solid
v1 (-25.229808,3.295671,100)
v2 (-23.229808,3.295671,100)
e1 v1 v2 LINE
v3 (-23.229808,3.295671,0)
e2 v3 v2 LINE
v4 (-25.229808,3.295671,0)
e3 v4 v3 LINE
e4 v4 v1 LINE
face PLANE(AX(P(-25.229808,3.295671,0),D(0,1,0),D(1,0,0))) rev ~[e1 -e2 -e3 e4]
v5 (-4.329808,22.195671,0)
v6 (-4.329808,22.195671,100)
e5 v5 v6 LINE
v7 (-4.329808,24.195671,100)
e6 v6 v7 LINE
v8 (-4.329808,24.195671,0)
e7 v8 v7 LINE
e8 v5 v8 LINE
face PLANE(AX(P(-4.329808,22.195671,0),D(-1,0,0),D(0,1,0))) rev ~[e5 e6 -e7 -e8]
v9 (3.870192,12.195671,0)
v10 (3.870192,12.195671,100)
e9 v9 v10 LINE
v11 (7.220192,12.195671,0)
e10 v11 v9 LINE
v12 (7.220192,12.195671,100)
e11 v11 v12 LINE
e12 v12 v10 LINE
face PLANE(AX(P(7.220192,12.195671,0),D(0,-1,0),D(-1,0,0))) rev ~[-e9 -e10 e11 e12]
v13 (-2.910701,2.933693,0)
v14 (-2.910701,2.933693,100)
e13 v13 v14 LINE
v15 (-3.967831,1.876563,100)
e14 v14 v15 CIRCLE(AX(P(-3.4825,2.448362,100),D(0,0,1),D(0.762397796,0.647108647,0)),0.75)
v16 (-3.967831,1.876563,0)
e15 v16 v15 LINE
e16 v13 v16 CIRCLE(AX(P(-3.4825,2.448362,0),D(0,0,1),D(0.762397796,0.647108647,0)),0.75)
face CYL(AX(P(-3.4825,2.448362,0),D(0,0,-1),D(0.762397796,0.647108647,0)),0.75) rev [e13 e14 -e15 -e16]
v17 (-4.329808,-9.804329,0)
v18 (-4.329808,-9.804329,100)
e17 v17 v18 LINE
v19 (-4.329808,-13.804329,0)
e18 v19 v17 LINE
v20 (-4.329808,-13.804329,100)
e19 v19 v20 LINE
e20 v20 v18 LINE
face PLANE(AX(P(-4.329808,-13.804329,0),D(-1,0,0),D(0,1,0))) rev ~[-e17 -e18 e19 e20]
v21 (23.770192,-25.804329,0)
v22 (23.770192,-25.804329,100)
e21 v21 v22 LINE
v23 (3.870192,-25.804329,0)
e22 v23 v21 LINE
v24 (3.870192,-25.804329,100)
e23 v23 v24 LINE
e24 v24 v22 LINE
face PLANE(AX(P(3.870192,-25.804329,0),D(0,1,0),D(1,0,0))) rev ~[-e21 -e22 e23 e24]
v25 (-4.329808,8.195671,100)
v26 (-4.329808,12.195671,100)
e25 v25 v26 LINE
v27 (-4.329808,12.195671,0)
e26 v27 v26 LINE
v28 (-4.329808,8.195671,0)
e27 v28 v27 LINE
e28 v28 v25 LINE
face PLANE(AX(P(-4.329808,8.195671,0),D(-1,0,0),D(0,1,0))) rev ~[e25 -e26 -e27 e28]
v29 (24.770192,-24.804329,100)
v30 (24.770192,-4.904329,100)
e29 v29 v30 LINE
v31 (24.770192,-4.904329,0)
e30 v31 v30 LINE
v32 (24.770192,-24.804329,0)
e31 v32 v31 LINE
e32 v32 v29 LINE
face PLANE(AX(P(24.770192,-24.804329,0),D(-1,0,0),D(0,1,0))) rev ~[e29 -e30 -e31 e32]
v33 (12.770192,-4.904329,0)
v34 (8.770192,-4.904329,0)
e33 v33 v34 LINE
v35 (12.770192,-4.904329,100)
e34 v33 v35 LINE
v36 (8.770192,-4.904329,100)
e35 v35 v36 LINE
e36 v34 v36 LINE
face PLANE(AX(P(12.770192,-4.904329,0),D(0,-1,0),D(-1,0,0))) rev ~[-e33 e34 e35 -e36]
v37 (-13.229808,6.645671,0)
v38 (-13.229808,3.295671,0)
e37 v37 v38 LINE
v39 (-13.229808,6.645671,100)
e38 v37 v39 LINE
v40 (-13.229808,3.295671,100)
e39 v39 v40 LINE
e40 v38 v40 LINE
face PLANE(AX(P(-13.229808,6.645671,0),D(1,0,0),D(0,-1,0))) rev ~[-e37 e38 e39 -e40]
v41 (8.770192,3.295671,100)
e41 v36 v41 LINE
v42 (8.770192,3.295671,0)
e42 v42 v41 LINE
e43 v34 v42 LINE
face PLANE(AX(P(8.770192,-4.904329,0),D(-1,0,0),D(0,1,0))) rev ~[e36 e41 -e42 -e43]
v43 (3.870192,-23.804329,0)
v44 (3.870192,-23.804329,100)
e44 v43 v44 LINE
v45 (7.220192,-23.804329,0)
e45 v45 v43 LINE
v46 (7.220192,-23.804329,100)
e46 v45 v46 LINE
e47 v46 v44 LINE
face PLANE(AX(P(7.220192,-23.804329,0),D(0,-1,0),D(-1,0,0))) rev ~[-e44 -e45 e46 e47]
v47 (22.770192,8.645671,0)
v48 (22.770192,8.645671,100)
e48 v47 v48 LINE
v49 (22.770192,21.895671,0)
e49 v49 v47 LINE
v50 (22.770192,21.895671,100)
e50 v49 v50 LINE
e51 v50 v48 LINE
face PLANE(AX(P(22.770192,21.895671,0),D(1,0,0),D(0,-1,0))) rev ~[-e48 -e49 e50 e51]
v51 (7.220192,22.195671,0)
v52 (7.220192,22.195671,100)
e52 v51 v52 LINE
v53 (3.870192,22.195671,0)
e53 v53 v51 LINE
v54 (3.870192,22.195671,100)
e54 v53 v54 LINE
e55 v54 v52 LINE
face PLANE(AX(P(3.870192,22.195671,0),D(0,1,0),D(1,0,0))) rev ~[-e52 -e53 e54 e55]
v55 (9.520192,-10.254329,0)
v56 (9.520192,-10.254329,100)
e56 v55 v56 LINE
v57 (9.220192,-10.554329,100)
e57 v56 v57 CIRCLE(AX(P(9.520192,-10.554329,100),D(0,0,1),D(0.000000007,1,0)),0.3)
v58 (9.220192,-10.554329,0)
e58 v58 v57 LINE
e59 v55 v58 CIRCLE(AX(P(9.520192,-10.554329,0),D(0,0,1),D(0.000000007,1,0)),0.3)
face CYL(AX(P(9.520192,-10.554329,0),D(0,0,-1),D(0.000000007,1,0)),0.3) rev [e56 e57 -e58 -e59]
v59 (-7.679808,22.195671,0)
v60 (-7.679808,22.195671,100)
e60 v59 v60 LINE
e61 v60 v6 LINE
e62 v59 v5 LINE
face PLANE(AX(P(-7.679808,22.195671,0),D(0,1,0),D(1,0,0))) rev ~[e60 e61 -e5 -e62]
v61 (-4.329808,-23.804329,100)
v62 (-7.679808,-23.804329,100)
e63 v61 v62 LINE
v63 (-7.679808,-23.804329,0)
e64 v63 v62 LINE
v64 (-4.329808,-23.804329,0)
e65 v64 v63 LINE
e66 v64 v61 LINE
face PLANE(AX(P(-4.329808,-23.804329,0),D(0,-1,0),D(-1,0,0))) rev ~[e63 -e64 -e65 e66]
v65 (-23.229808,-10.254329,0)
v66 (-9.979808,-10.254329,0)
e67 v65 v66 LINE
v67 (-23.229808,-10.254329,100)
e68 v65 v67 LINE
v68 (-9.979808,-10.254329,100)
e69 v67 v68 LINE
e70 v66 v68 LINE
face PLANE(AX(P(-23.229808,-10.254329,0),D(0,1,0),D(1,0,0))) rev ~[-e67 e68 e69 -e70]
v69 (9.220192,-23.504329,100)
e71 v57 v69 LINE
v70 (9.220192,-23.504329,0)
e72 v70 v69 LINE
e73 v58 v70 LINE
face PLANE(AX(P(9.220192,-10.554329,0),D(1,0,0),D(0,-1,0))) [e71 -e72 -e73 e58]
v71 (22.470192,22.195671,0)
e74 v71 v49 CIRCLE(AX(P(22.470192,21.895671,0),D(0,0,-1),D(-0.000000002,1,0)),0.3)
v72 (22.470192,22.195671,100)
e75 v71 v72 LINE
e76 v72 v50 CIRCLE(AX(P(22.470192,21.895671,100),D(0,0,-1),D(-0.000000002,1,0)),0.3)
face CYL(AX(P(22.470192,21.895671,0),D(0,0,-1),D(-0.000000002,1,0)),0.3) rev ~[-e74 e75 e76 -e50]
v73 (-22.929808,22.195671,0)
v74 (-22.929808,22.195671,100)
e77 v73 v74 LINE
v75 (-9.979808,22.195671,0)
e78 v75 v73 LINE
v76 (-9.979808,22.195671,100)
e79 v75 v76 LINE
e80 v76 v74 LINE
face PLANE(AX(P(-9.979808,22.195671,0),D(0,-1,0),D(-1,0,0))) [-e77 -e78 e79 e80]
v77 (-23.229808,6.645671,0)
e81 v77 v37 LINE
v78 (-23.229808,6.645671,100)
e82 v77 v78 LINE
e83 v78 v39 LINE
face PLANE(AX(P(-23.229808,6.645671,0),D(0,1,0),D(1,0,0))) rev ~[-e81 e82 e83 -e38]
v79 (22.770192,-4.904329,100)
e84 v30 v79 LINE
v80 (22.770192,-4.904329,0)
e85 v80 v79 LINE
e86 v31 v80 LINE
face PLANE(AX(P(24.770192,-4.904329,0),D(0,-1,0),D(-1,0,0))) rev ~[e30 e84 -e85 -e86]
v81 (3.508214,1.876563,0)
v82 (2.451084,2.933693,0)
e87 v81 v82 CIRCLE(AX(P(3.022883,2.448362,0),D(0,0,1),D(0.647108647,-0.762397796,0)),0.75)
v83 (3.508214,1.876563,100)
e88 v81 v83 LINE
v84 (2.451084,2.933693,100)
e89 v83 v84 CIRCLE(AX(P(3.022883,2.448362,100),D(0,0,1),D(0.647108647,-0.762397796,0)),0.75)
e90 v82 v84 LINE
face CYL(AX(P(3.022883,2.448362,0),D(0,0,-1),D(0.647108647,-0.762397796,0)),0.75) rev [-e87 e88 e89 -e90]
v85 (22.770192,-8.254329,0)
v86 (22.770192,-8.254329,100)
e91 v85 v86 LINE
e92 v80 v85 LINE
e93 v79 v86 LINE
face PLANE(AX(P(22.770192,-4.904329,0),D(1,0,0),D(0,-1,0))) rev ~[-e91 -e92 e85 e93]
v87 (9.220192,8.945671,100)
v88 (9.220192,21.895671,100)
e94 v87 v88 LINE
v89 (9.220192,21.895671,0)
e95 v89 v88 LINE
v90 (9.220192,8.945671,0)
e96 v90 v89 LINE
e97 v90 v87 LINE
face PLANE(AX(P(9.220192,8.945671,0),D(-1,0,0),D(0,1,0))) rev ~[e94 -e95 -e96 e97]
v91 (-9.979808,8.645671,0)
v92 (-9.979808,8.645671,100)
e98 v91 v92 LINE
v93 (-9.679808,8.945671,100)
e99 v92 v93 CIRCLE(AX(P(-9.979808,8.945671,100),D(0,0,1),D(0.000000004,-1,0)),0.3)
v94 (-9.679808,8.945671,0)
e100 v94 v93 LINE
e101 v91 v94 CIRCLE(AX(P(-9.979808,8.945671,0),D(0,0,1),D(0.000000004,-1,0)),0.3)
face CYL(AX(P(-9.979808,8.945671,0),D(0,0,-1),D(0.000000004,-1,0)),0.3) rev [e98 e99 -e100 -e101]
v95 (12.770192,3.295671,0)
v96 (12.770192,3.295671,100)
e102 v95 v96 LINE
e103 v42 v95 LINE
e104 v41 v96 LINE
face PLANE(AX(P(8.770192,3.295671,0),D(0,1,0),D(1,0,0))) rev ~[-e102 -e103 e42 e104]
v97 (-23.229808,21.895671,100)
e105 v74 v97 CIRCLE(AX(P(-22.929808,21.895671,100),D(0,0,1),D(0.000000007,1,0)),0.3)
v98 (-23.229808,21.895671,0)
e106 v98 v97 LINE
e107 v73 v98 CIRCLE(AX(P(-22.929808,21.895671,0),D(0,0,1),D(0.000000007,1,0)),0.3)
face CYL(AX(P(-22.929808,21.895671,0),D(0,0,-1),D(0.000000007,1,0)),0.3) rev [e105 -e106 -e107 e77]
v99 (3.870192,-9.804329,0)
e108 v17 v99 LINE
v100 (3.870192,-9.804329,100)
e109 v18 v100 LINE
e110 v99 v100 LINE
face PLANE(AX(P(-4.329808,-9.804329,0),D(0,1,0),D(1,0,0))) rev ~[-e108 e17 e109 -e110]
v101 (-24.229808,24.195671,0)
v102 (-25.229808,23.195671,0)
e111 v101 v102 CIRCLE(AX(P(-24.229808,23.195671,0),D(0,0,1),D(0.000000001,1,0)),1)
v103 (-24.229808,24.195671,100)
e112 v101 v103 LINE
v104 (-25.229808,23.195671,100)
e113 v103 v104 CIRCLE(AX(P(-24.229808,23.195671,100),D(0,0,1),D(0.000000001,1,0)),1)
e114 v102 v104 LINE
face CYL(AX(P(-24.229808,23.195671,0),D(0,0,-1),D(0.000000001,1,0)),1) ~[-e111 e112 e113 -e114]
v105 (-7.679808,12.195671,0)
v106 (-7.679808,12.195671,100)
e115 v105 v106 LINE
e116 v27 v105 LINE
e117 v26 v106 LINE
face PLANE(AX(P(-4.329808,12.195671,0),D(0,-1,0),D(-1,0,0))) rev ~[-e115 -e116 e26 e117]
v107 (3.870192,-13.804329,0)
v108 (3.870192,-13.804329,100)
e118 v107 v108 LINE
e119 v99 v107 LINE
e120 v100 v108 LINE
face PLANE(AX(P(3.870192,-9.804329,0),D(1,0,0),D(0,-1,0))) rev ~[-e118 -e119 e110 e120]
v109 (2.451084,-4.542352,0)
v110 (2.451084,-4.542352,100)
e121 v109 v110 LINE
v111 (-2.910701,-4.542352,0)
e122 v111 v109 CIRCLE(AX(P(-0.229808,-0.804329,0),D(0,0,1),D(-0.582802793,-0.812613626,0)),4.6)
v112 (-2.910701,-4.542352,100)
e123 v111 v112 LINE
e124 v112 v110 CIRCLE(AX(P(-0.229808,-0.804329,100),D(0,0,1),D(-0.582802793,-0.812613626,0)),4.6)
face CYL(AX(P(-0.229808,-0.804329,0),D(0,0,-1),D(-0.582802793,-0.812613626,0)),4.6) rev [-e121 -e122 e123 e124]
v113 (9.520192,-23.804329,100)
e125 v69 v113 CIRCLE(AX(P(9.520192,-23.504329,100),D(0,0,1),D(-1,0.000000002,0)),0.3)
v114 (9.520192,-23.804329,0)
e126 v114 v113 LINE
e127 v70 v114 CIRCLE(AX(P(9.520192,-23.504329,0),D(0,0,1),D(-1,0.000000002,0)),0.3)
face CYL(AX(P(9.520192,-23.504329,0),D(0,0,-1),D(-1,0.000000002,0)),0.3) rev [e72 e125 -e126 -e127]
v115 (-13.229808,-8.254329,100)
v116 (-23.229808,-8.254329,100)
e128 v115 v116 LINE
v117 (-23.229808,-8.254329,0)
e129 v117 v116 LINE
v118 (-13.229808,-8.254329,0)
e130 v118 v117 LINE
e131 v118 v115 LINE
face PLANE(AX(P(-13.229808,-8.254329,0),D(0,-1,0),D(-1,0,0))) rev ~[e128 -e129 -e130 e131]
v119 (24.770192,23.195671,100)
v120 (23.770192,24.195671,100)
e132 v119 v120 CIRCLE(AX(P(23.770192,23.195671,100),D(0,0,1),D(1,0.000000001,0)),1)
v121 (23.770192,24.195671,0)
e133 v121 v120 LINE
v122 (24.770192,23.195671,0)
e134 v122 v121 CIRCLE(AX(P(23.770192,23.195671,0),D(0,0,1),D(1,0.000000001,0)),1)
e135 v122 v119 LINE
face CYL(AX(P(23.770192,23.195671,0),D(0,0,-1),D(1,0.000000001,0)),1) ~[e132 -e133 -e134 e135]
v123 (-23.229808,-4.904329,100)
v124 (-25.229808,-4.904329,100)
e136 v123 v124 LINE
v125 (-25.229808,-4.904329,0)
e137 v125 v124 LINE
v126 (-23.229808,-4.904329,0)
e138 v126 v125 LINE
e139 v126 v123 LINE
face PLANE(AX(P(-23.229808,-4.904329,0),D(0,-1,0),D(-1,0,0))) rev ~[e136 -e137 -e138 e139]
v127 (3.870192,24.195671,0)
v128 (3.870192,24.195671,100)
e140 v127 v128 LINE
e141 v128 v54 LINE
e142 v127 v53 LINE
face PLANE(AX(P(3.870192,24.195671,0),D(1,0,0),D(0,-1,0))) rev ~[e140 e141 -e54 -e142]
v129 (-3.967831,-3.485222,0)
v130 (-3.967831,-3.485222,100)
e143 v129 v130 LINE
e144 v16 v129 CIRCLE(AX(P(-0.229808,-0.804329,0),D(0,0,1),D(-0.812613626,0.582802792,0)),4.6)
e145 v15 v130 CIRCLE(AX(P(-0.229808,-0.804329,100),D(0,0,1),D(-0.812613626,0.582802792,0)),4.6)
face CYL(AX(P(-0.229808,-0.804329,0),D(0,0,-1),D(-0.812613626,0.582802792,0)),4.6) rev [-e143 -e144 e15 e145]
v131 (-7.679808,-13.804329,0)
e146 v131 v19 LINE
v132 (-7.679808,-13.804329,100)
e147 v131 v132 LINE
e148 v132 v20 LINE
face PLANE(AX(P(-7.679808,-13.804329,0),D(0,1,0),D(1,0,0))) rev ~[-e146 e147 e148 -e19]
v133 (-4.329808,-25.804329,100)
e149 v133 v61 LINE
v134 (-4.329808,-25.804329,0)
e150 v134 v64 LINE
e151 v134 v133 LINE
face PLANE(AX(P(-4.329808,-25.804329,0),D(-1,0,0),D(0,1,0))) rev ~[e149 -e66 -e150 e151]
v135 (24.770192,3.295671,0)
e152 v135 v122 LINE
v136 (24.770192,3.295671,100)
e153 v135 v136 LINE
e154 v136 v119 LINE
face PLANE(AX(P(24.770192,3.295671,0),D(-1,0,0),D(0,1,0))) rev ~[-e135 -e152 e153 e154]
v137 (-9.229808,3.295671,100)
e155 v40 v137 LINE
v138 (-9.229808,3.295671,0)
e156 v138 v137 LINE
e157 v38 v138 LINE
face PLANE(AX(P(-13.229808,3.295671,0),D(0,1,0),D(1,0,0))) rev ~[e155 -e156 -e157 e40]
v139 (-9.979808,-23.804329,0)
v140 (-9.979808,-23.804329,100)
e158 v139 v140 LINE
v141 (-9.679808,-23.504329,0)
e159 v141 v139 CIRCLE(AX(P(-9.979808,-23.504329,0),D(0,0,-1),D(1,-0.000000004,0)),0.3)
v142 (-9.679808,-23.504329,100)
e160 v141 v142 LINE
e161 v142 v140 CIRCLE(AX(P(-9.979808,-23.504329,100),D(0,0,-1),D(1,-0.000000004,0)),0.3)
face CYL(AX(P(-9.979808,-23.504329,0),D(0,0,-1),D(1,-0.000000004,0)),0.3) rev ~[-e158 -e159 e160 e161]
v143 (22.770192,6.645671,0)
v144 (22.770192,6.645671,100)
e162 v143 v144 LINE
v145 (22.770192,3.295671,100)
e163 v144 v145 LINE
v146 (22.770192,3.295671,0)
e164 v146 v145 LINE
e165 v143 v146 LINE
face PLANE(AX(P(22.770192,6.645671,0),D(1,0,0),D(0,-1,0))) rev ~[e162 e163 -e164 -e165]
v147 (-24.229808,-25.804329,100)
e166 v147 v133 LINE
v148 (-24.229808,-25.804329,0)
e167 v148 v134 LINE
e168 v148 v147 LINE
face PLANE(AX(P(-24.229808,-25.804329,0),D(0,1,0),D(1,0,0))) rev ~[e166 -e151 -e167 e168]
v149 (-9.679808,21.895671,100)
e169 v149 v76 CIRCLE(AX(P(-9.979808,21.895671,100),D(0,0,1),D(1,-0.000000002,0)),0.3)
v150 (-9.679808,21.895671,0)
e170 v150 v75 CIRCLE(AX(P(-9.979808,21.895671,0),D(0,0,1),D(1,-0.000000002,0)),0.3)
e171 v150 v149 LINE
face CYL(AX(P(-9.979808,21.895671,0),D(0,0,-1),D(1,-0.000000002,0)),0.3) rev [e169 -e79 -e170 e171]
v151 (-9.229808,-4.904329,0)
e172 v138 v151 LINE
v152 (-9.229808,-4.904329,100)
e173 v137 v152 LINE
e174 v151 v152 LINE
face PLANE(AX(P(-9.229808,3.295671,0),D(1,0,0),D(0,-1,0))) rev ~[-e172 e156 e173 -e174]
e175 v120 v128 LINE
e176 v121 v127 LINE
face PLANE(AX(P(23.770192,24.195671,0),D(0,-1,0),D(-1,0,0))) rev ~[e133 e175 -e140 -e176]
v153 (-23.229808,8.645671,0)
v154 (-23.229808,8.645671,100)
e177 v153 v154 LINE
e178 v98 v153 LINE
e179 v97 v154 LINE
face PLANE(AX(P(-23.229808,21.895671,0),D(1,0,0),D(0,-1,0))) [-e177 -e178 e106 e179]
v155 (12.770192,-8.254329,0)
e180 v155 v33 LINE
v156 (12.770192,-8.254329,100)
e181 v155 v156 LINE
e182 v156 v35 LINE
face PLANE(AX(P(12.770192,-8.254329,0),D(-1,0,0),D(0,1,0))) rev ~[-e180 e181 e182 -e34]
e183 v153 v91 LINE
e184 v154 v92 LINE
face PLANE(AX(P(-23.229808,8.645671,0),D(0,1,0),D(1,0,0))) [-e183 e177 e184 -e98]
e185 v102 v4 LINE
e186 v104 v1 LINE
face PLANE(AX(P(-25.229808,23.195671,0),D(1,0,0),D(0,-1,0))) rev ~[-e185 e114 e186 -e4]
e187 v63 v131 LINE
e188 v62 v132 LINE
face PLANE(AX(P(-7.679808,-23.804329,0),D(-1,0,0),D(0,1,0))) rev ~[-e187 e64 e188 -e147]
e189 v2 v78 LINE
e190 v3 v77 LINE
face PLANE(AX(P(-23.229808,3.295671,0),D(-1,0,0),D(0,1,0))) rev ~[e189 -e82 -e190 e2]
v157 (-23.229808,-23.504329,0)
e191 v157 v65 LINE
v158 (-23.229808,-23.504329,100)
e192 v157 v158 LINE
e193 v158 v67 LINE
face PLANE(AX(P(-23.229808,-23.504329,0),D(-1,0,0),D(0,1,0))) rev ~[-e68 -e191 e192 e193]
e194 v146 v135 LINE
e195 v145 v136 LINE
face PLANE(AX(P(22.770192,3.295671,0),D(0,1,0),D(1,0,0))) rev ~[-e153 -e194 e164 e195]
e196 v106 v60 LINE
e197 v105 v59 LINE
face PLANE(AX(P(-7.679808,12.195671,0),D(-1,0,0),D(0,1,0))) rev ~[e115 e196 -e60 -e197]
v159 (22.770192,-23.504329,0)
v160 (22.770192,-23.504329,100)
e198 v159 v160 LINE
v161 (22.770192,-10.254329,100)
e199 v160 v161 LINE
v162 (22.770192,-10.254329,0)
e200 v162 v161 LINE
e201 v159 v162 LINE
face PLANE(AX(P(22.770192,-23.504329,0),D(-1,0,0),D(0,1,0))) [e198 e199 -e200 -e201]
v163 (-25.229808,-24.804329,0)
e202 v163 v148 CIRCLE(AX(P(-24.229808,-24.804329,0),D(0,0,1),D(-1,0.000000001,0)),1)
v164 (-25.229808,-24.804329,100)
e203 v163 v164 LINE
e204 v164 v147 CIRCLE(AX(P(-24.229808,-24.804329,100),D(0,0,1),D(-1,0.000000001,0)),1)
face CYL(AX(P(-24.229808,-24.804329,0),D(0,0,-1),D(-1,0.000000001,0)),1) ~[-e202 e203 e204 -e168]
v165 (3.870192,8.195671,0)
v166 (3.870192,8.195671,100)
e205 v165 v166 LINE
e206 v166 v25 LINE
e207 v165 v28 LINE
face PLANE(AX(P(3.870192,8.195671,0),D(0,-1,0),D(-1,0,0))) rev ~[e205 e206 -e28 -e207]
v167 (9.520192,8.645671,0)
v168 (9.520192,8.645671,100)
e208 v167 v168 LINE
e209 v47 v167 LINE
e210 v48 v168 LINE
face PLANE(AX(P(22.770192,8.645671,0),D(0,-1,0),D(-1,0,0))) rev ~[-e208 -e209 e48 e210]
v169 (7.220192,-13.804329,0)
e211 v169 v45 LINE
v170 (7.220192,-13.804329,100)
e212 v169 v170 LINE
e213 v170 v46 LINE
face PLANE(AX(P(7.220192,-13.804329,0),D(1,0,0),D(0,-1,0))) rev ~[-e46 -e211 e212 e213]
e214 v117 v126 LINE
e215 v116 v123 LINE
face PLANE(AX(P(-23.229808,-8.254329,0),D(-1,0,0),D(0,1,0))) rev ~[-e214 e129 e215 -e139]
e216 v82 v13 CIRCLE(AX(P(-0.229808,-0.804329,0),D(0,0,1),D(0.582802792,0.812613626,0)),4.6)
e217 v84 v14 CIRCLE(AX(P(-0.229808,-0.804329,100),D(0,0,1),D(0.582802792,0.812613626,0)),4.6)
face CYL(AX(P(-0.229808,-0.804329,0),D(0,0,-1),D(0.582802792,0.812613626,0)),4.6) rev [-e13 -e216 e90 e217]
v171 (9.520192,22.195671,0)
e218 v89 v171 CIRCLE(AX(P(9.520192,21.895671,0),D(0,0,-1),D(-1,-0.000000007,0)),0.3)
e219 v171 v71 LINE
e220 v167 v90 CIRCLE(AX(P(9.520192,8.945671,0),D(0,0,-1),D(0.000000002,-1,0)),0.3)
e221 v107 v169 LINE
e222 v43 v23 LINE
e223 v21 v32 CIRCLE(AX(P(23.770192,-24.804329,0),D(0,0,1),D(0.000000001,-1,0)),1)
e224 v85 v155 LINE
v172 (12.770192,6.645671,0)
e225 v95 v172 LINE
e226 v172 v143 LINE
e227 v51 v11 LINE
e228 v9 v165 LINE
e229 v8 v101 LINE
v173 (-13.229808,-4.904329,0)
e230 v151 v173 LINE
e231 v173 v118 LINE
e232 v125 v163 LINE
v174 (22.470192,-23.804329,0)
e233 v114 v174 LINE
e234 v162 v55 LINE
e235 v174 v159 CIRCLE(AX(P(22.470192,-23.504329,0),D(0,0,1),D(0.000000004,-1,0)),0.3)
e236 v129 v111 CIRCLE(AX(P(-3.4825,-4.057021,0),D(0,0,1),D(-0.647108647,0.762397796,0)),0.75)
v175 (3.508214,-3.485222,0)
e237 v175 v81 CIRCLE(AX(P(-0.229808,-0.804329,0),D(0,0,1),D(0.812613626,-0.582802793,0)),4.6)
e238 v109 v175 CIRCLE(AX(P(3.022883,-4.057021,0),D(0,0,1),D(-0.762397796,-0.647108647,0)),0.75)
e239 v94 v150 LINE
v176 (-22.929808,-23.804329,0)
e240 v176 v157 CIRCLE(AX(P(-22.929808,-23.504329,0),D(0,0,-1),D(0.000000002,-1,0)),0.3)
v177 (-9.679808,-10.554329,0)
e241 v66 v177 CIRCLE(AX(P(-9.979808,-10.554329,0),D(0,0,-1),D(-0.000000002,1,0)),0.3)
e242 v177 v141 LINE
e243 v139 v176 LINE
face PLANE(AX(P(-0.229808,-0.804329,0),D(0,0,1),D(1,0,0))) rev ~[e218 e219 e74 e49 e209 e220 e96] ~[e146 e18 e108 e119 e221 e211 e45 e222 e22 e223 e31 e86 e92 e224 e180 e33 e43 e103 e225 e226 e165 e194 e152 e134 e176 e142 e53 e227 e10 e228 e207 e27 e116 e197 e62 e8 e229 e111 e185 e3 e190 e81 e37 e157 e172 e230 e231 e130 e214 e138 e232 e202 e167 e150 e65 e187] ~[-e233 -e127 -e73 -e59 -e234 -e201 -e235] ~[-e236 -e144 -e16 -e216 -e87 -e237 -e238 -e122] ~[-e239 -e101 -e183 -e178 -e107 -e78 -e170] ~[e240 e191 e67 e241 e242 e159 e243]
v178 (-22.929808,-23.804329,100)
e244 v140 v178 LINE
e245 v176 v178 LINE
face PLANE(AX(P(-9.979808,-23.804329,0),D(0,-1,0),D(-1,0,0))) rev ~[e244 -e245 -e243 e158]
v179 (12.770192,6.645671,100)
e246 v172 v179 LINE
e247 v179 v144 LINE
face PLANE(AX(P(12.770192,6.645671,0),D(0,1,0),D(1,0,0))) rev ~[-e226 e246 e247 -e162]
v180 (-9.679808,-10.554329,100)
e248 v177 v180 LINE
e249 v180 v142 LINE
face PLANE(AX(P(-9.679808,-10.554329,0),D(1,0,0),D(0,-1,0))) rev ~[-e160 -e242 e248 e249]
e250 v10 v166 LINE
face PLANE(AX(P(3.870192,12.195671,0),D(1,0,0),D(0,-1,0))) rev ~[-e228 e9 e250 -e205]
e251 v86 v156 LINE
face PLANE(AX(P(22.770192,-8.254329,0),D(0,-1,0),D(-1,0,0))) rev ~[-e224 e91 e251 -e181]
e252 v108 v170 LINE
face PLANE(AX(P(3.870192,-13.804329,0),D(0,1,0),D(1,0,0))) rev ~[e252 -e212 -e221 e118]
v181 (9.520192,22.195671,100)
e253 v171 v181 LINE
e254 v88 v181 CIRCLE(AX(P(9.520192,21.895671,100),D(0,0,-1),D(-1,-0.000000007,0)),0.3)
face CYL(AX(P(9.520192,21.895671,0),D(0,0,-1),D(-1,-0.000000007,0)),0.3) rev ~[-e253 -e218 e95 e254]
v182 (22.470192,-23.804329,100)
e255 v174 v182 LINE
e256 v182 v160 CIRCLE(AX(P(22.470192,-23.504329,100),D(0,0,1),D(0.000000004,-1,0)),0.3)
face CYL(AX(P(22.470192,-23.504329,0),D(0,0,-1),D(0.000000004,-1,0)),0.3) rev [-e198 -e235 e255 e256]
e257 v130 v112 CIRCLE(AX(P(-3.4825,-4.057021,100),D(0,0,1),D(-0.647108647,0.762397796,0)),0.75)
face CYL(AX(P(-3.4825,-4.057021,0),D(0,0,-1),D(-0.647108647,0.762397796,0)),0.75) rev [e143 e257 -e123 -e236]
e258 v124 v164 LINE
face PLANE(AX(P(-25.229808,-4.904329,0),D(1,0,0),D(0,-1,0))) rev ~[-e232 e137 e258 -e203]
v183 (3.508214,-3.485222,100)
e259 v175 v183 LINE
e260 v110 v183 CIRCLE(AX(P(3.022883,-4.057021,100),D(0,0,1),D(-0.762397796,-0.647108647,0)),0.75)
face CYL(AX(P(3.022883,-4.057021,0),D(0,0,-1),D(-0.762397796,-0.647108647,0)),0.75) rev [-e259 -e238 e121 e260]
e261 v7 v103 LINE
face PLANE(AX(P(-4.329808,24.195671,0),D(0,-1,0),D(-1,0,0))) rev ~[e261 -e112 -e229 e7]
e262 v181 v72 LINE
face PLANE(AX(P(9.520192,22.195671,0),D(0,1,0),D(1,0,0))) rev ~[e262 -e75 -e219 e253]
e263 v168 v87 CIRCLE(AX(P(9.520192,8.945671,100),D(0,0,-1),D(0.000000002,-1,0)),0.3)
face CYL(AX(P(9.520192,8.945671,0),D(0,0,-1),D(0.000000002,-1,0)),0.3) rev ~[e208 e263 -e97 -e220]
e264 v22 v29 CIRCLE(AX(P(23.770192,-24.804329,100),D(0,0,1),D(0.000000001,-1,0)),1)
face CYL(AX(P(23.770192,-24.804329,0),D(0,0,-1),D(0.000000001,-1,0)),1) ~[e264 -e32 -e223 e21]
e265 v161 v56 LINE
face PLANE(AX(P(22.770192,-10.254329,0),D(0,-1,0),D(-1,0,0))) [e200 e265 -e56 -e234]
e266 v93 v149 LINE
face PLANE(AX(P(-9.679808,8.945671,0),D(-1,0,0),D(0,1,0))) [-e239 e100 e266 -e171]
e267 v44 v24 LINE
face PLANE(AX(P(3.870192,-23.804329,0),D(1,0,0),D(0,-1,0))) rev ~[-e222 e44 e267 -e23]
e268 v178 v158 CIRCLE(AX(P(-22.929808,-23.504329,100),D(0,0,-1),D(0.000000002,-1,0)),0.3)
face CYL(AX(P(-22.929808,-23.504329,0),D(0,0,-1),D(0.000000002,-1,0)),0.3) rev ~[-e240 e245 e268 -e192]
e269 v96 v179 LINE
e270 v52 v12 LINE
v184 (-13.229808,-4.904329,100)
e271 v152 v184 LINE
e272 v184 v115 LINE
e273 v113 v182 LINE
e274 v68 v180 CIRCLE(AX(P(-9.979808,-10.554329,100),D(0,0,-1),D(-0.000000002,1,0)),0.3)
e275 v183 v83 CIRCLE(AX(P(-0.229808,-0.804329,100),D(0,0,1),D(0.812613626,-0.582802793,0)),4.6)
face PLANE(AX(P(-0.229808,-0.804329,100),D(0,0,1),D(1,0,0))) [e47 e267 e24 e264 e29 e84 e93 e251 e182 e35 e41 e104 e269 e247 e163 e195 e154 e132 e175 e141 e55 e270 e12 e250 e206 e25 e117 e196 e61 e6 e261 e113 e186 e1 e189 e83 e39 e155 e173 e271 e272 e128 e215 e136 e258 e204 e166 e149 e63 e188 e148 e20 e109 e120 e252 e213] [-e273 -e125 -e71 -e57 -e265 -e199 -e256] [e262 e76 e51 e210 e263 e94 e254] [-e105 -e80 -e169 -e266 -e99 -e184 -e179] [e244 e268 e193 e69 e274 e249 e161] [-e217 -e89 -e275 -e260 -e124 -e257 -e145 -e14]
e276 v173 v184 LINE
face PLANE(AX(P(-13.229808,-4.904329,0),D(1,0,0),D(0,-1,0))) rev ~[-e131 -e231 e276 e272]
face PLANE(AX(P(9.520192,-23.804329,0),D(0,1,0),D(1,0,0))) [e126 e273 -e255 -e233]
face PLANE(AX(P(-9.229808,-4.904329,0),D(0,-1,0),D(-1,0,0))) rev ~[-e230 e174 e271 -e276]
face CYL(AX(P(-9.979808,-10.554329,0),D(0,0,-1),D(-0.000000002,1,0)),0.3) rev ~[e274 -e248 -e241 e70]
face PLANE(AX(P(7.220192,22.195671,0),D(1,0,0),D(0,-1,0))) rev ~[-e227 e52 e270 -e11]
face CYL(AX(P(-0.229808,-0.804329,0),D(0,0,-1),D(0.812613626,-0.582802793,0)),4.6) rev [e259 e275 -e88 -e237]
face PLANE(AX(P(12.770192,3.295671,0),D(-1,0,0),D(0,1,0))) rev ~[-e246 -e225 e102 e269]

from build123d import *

# Parameters (mm, degrees)
EXTRUDE_1_DEPTH = 100


with BuildPart() as part:
    # 草图1 → 凸台-拉伸1 (new body)
    with BuildSketch(Plane.XY):
        with BuildLine():
            Line((-4.329808423, 24.195670518), (-24.229808423, 24.195670518))
            ThreePointArc((-24.229808423, 24.195670518), (-24.936915205, 23.902777299), (-25.229808423, 23.195670518))
            Line((-25.229808423, 23.195670518), (-25.229808423, 3.295670518))
            Line((-25.229808423, 3.295670518), (-23.229808423, 3.295670518))
            Line((-23.229808423, 3.295670518), (-23.229808423, 6.645670518))
            Line((-23.229808423, 6.645670518), (-13.229808423, 6.645670518))
            Line((-13.229808423, 6.645670518), (-13.229808423, 3.295670518))
            Line((-13.229808423, 3.295670518), (-9.229808423, 3.295670518))
            Line((-9.229808423, 3.295670518), (-9.229808423, -4.904329482))
            Line((-9.229808423, -4.904329482), (-13.229808423, -4.904329482))
            Line((-13.229808423, -4.904329482), (-13.229808423, -8.254329482))
            Line((-13.229808423, -8.254329482), (-23.229808423, -8.254329482))
            Line((-23.229808423, -8.254329482), (-23.229808423, -4.904329482))
            Line((-23.229808423, -4.904329482), (-25.229808423, -4.904329482))
            Line((-25.229808423, -4.904329482), (-25.229808423, -24.804329482))
            ThreePointArc((-25.229808423, -24.804329482), (-24.936915205, -25.511436263), (-24.229808423, -25.804329482))
            Line((-24.229808423, -25.804329482), (-4.329808423, -25.804329482))
            Line((-4.329808423, -25.804329482), (-4.329808423, -23.804329482))
            Line((-4.329808423, -23.804329482), (-7.679808423, -23.804329482))
            Line((-7.679808423, -23.804329482), (-7.679808423, -13.804329482))
            Line((-7.679808423, -13.804329482), (-4.329808423, -13.804329482))
            Line((-4.329808423, -13.804329482), (-4.329808423, -9.804329482))
            Line((-4.329808423, -9.804329482), (3.870191577, -9.804329482))
            Line((3.870191577, -9.804329482), (3.870191577, -13.804329482))
            Line((3.870191577, -13.804329482), (7.220191577, -13.804329482))
            Line((7.220191577, -13.804329482), (7.220191577, -23.804329482))
            Line((7.220191577, -23.804329482), (3.870191577, -23.804329482))
            Line((3.870191577, -23.804329482), (3.870191577, -25.804329482))
            Line((3.870191577, -25.804329482), (23.770191577, -25.804329482))
            ThreePointArc((23.770191577, -25.804329482), (24.477298358, -25.511436263), (24.770191577, -24.804329482))
            Line((24.770191577, -24.804329482), (24.770191577, -4.904329482))
            Line((24.770191577, -4.904329482), (22.770191577, -4.904329482))
            Line((22.770191577, -4.904329482), (22.770191577, -8.254329482))
            Line((22.770191577, -8.254329482), (12.770191577, -8.254329482))
            Line((12.770191577, -8.254329482), (12.770191577, -4.904329482))
            Line((12.770191577, -4.904329482), (8.770191577, -4.904329482))
            Line((8.770191577, -4.904329482), (8.770191577, 3.295670518))
            Line((8.770191577, 3.295670518), (12.770191577, 3.295670518))
            Line((12.770191577, 3.295670518), (12.770191577, 6.645670518))
            Line((12.770191577, 6.645670518), (22.770191577, 6.645670518))
            Line((22.770191577, 6.645670518), (22.770191577, 3.295670518))
            Line((22.770191577, 3.295670518), (24.770191577, 3.295670518))
            Line((24.770191577, 3.295670518), (24.770191577, 23.195670518))
            ThreePointArc((24.770191577, 23.195670518), (24.477298358, 23.902777299), (23.770191577, 24.195670518))
            Line((23.770191577, 24.195670518), (3.870191577, 24.195670518))
            Line((3.870191577, 24.195670518), (3.870191577, 22.195670518))
            Line((3.870191577, 22.195670518), (7.220191577, 22.195670518))
            Line((7.220191577, 22.195670518), (7.220191577, 12.195670518))
            Line((7.220191577, 12.195670518), (3.870191577, 12.195670518))
            Line((3.870191577, 12.195670518), (3.870191577, 8.195670518))
            Line((3.870191577, 8.195670518), (-4.329808423, 8.195670518))
            Line((-4.329808423, 8.195670518), (-4.329808423, 12.195670518))
            Line((-4.329808423, 12.195670518), (-7.679808423, 12.195670518))
            Line((-7.679808423, 12.195670518), (-7.679808423, 22.195670518))
            Line((-7.679808423, 22.195670518), (-4.329808423, 22.195670518))
            Line((-4.329808423, 22.195670518), (-4.329808423, 24.195670518))
        make_face()
        with BuildLine():
            Line((-23.229808423, 8.645670518), (-9.979808423, 8.645670518))
            ThreePointArc((-9.979808423, 8.645670518), (-9.767676389, 8.733538484), (-9.679808423, 8.945670518))
            Line((-9.679808423, 8.945670518), (-9.679808423, 21.895670518))
            ThreePointArc((-9.679808423, 21.895670518), (-9.767676389, 22.107802553), (-9.979808423, 22.195670518))
            Line((-9.979808423, 22.195670518), (-22.929808423, 22.195670518))
            ThreePointArc((-22.929808423, 22.195670518), (-23.141940458, 22.107802553), (-23.229808423, 21.895670518))
            Line((-23.229808423, 21.895670518), (-23.229808423, 8.645670518))
        make_face(mode=Mode.SUBTRACT)
        with BuildLine():
            Line((22.770191577, 8.645670518), (9.520191577, 8.645670518))
            ThreePointArc((9.520191577, 8.645670518), (9.308059542, 8.733538484), (9.220191577, 8.945670518))
            Line((9.220191577, 8.945670518), (9.220191577, 21.895670518))
            ThreePointArc((9.220191577, 21.895670518), (9.308059542, 22.107802553), (9.520191577, 22.195670518))
            Line((9.520191577, 22.195670518), (22.470191577, 22.195670518))
            ThreePointArc((22.470191577, 22.195670518), (22.682323611, 22.107802553), (22.770191577, 21.895670518))
            Line((22.770191577, 21.895670518), (22.770191577, 8.645670518))
        make_face(mode=Mode.SUBTRACT)
        with BuildLine():
            Line((-23.229808423, -10.254329482), (-9.979808423, -10.254329482))
            ThreePointArc((-9.979808423, -10.254329482), (-9.767676389, -10.342197447), (-9.679808423, -10.554329482))
            Line((-9.679808423, -10.554329482), (-9.679808423, -23.504329482))
            ThreePointArc((-9.679808423, -23.504329482), (-9.767676389, -23.716461516), (-9.979808423, -23.804329482))
            Line((-9.979808423, -23.804329482), (-22.929808423, -23.804329482))
            ThreePointArc((-22.929808423, -23.804329482), (-23.141940458, -23.716461516), (-23.229808423, -23.504329482))
            Line((-23.229808423, -23.504329482), (-23.229808423, -10.254329482))
        make_face(mode=Mode.SUBTRACT)
        with BuildLine():
            Line((22.770191577, -10.254329482), (9.520191577, -10.254329482))
            ThreePointArc((9.520191577, -10.254329482), (9.308059542, -10.342197447), (9.220191577, -10.554329482))
            Line((9.220191577, -10.554329482), (9.220191577, -23.504329482))
            ThreePointArc((9.220191577, -23.504329482), (9.308059542, -23.716461516), (9.520191577, -23.804329482))
            Line((9.520191577, -23.804329482), (22.470191577, -23.804329482))
            ThreePointArc((22.470191577, -23.804329482), (22.682323611, -23.716461516), (22.770191577, -23.504329482))
            Line((22.770191577, -23.504329482), (22.770191577, -10.254329482))
        make_face(mode=Mode.SUBTRACT)
        with BuildLine():
            ThreePointArc((2.451084423, 2.933693197), (-0.229808423, 3.795670518), (-2.91070127, 2.933693197))
            ThreePointArc((-2.91070127, 2.933693197), (-4.012829703, 2.978691798), (-3.967831102, 1.876563365))
            ThreePointArc((-3.967831102, 1.876563365), (-4.829808423, -0.804329482), (-3.967831102, -3.485222328))
            ThreePointArc((-3.967831102, -3.485222328), (-4.012829703, -4.587350761), (-2.91070127, -4.54235216))
            ThreePointArc((-2.91070127, -4.54235216), (-0.229808423, -5.404329482), (2.451084423, -4.54235216))
            ThreePointArc((2.451084423, -4.54235216), (3.553212856, -4.587350761), (3.508214255, -3.485222328))
            ThreePointArc((3.508214255, -3.485222328), (4.370191577, -0.804329482), (3.508214255, 1.876563365))
            ThreePointArc((3.508214255, 1.876563365), (3.553212856, 2.978691798), (2.451084423, 2.933693197))
        make_face(mode=Mode.SUBTRACT)
    extrude(amount=EXTRUDE_1_DEPTH)


solid = part.part
